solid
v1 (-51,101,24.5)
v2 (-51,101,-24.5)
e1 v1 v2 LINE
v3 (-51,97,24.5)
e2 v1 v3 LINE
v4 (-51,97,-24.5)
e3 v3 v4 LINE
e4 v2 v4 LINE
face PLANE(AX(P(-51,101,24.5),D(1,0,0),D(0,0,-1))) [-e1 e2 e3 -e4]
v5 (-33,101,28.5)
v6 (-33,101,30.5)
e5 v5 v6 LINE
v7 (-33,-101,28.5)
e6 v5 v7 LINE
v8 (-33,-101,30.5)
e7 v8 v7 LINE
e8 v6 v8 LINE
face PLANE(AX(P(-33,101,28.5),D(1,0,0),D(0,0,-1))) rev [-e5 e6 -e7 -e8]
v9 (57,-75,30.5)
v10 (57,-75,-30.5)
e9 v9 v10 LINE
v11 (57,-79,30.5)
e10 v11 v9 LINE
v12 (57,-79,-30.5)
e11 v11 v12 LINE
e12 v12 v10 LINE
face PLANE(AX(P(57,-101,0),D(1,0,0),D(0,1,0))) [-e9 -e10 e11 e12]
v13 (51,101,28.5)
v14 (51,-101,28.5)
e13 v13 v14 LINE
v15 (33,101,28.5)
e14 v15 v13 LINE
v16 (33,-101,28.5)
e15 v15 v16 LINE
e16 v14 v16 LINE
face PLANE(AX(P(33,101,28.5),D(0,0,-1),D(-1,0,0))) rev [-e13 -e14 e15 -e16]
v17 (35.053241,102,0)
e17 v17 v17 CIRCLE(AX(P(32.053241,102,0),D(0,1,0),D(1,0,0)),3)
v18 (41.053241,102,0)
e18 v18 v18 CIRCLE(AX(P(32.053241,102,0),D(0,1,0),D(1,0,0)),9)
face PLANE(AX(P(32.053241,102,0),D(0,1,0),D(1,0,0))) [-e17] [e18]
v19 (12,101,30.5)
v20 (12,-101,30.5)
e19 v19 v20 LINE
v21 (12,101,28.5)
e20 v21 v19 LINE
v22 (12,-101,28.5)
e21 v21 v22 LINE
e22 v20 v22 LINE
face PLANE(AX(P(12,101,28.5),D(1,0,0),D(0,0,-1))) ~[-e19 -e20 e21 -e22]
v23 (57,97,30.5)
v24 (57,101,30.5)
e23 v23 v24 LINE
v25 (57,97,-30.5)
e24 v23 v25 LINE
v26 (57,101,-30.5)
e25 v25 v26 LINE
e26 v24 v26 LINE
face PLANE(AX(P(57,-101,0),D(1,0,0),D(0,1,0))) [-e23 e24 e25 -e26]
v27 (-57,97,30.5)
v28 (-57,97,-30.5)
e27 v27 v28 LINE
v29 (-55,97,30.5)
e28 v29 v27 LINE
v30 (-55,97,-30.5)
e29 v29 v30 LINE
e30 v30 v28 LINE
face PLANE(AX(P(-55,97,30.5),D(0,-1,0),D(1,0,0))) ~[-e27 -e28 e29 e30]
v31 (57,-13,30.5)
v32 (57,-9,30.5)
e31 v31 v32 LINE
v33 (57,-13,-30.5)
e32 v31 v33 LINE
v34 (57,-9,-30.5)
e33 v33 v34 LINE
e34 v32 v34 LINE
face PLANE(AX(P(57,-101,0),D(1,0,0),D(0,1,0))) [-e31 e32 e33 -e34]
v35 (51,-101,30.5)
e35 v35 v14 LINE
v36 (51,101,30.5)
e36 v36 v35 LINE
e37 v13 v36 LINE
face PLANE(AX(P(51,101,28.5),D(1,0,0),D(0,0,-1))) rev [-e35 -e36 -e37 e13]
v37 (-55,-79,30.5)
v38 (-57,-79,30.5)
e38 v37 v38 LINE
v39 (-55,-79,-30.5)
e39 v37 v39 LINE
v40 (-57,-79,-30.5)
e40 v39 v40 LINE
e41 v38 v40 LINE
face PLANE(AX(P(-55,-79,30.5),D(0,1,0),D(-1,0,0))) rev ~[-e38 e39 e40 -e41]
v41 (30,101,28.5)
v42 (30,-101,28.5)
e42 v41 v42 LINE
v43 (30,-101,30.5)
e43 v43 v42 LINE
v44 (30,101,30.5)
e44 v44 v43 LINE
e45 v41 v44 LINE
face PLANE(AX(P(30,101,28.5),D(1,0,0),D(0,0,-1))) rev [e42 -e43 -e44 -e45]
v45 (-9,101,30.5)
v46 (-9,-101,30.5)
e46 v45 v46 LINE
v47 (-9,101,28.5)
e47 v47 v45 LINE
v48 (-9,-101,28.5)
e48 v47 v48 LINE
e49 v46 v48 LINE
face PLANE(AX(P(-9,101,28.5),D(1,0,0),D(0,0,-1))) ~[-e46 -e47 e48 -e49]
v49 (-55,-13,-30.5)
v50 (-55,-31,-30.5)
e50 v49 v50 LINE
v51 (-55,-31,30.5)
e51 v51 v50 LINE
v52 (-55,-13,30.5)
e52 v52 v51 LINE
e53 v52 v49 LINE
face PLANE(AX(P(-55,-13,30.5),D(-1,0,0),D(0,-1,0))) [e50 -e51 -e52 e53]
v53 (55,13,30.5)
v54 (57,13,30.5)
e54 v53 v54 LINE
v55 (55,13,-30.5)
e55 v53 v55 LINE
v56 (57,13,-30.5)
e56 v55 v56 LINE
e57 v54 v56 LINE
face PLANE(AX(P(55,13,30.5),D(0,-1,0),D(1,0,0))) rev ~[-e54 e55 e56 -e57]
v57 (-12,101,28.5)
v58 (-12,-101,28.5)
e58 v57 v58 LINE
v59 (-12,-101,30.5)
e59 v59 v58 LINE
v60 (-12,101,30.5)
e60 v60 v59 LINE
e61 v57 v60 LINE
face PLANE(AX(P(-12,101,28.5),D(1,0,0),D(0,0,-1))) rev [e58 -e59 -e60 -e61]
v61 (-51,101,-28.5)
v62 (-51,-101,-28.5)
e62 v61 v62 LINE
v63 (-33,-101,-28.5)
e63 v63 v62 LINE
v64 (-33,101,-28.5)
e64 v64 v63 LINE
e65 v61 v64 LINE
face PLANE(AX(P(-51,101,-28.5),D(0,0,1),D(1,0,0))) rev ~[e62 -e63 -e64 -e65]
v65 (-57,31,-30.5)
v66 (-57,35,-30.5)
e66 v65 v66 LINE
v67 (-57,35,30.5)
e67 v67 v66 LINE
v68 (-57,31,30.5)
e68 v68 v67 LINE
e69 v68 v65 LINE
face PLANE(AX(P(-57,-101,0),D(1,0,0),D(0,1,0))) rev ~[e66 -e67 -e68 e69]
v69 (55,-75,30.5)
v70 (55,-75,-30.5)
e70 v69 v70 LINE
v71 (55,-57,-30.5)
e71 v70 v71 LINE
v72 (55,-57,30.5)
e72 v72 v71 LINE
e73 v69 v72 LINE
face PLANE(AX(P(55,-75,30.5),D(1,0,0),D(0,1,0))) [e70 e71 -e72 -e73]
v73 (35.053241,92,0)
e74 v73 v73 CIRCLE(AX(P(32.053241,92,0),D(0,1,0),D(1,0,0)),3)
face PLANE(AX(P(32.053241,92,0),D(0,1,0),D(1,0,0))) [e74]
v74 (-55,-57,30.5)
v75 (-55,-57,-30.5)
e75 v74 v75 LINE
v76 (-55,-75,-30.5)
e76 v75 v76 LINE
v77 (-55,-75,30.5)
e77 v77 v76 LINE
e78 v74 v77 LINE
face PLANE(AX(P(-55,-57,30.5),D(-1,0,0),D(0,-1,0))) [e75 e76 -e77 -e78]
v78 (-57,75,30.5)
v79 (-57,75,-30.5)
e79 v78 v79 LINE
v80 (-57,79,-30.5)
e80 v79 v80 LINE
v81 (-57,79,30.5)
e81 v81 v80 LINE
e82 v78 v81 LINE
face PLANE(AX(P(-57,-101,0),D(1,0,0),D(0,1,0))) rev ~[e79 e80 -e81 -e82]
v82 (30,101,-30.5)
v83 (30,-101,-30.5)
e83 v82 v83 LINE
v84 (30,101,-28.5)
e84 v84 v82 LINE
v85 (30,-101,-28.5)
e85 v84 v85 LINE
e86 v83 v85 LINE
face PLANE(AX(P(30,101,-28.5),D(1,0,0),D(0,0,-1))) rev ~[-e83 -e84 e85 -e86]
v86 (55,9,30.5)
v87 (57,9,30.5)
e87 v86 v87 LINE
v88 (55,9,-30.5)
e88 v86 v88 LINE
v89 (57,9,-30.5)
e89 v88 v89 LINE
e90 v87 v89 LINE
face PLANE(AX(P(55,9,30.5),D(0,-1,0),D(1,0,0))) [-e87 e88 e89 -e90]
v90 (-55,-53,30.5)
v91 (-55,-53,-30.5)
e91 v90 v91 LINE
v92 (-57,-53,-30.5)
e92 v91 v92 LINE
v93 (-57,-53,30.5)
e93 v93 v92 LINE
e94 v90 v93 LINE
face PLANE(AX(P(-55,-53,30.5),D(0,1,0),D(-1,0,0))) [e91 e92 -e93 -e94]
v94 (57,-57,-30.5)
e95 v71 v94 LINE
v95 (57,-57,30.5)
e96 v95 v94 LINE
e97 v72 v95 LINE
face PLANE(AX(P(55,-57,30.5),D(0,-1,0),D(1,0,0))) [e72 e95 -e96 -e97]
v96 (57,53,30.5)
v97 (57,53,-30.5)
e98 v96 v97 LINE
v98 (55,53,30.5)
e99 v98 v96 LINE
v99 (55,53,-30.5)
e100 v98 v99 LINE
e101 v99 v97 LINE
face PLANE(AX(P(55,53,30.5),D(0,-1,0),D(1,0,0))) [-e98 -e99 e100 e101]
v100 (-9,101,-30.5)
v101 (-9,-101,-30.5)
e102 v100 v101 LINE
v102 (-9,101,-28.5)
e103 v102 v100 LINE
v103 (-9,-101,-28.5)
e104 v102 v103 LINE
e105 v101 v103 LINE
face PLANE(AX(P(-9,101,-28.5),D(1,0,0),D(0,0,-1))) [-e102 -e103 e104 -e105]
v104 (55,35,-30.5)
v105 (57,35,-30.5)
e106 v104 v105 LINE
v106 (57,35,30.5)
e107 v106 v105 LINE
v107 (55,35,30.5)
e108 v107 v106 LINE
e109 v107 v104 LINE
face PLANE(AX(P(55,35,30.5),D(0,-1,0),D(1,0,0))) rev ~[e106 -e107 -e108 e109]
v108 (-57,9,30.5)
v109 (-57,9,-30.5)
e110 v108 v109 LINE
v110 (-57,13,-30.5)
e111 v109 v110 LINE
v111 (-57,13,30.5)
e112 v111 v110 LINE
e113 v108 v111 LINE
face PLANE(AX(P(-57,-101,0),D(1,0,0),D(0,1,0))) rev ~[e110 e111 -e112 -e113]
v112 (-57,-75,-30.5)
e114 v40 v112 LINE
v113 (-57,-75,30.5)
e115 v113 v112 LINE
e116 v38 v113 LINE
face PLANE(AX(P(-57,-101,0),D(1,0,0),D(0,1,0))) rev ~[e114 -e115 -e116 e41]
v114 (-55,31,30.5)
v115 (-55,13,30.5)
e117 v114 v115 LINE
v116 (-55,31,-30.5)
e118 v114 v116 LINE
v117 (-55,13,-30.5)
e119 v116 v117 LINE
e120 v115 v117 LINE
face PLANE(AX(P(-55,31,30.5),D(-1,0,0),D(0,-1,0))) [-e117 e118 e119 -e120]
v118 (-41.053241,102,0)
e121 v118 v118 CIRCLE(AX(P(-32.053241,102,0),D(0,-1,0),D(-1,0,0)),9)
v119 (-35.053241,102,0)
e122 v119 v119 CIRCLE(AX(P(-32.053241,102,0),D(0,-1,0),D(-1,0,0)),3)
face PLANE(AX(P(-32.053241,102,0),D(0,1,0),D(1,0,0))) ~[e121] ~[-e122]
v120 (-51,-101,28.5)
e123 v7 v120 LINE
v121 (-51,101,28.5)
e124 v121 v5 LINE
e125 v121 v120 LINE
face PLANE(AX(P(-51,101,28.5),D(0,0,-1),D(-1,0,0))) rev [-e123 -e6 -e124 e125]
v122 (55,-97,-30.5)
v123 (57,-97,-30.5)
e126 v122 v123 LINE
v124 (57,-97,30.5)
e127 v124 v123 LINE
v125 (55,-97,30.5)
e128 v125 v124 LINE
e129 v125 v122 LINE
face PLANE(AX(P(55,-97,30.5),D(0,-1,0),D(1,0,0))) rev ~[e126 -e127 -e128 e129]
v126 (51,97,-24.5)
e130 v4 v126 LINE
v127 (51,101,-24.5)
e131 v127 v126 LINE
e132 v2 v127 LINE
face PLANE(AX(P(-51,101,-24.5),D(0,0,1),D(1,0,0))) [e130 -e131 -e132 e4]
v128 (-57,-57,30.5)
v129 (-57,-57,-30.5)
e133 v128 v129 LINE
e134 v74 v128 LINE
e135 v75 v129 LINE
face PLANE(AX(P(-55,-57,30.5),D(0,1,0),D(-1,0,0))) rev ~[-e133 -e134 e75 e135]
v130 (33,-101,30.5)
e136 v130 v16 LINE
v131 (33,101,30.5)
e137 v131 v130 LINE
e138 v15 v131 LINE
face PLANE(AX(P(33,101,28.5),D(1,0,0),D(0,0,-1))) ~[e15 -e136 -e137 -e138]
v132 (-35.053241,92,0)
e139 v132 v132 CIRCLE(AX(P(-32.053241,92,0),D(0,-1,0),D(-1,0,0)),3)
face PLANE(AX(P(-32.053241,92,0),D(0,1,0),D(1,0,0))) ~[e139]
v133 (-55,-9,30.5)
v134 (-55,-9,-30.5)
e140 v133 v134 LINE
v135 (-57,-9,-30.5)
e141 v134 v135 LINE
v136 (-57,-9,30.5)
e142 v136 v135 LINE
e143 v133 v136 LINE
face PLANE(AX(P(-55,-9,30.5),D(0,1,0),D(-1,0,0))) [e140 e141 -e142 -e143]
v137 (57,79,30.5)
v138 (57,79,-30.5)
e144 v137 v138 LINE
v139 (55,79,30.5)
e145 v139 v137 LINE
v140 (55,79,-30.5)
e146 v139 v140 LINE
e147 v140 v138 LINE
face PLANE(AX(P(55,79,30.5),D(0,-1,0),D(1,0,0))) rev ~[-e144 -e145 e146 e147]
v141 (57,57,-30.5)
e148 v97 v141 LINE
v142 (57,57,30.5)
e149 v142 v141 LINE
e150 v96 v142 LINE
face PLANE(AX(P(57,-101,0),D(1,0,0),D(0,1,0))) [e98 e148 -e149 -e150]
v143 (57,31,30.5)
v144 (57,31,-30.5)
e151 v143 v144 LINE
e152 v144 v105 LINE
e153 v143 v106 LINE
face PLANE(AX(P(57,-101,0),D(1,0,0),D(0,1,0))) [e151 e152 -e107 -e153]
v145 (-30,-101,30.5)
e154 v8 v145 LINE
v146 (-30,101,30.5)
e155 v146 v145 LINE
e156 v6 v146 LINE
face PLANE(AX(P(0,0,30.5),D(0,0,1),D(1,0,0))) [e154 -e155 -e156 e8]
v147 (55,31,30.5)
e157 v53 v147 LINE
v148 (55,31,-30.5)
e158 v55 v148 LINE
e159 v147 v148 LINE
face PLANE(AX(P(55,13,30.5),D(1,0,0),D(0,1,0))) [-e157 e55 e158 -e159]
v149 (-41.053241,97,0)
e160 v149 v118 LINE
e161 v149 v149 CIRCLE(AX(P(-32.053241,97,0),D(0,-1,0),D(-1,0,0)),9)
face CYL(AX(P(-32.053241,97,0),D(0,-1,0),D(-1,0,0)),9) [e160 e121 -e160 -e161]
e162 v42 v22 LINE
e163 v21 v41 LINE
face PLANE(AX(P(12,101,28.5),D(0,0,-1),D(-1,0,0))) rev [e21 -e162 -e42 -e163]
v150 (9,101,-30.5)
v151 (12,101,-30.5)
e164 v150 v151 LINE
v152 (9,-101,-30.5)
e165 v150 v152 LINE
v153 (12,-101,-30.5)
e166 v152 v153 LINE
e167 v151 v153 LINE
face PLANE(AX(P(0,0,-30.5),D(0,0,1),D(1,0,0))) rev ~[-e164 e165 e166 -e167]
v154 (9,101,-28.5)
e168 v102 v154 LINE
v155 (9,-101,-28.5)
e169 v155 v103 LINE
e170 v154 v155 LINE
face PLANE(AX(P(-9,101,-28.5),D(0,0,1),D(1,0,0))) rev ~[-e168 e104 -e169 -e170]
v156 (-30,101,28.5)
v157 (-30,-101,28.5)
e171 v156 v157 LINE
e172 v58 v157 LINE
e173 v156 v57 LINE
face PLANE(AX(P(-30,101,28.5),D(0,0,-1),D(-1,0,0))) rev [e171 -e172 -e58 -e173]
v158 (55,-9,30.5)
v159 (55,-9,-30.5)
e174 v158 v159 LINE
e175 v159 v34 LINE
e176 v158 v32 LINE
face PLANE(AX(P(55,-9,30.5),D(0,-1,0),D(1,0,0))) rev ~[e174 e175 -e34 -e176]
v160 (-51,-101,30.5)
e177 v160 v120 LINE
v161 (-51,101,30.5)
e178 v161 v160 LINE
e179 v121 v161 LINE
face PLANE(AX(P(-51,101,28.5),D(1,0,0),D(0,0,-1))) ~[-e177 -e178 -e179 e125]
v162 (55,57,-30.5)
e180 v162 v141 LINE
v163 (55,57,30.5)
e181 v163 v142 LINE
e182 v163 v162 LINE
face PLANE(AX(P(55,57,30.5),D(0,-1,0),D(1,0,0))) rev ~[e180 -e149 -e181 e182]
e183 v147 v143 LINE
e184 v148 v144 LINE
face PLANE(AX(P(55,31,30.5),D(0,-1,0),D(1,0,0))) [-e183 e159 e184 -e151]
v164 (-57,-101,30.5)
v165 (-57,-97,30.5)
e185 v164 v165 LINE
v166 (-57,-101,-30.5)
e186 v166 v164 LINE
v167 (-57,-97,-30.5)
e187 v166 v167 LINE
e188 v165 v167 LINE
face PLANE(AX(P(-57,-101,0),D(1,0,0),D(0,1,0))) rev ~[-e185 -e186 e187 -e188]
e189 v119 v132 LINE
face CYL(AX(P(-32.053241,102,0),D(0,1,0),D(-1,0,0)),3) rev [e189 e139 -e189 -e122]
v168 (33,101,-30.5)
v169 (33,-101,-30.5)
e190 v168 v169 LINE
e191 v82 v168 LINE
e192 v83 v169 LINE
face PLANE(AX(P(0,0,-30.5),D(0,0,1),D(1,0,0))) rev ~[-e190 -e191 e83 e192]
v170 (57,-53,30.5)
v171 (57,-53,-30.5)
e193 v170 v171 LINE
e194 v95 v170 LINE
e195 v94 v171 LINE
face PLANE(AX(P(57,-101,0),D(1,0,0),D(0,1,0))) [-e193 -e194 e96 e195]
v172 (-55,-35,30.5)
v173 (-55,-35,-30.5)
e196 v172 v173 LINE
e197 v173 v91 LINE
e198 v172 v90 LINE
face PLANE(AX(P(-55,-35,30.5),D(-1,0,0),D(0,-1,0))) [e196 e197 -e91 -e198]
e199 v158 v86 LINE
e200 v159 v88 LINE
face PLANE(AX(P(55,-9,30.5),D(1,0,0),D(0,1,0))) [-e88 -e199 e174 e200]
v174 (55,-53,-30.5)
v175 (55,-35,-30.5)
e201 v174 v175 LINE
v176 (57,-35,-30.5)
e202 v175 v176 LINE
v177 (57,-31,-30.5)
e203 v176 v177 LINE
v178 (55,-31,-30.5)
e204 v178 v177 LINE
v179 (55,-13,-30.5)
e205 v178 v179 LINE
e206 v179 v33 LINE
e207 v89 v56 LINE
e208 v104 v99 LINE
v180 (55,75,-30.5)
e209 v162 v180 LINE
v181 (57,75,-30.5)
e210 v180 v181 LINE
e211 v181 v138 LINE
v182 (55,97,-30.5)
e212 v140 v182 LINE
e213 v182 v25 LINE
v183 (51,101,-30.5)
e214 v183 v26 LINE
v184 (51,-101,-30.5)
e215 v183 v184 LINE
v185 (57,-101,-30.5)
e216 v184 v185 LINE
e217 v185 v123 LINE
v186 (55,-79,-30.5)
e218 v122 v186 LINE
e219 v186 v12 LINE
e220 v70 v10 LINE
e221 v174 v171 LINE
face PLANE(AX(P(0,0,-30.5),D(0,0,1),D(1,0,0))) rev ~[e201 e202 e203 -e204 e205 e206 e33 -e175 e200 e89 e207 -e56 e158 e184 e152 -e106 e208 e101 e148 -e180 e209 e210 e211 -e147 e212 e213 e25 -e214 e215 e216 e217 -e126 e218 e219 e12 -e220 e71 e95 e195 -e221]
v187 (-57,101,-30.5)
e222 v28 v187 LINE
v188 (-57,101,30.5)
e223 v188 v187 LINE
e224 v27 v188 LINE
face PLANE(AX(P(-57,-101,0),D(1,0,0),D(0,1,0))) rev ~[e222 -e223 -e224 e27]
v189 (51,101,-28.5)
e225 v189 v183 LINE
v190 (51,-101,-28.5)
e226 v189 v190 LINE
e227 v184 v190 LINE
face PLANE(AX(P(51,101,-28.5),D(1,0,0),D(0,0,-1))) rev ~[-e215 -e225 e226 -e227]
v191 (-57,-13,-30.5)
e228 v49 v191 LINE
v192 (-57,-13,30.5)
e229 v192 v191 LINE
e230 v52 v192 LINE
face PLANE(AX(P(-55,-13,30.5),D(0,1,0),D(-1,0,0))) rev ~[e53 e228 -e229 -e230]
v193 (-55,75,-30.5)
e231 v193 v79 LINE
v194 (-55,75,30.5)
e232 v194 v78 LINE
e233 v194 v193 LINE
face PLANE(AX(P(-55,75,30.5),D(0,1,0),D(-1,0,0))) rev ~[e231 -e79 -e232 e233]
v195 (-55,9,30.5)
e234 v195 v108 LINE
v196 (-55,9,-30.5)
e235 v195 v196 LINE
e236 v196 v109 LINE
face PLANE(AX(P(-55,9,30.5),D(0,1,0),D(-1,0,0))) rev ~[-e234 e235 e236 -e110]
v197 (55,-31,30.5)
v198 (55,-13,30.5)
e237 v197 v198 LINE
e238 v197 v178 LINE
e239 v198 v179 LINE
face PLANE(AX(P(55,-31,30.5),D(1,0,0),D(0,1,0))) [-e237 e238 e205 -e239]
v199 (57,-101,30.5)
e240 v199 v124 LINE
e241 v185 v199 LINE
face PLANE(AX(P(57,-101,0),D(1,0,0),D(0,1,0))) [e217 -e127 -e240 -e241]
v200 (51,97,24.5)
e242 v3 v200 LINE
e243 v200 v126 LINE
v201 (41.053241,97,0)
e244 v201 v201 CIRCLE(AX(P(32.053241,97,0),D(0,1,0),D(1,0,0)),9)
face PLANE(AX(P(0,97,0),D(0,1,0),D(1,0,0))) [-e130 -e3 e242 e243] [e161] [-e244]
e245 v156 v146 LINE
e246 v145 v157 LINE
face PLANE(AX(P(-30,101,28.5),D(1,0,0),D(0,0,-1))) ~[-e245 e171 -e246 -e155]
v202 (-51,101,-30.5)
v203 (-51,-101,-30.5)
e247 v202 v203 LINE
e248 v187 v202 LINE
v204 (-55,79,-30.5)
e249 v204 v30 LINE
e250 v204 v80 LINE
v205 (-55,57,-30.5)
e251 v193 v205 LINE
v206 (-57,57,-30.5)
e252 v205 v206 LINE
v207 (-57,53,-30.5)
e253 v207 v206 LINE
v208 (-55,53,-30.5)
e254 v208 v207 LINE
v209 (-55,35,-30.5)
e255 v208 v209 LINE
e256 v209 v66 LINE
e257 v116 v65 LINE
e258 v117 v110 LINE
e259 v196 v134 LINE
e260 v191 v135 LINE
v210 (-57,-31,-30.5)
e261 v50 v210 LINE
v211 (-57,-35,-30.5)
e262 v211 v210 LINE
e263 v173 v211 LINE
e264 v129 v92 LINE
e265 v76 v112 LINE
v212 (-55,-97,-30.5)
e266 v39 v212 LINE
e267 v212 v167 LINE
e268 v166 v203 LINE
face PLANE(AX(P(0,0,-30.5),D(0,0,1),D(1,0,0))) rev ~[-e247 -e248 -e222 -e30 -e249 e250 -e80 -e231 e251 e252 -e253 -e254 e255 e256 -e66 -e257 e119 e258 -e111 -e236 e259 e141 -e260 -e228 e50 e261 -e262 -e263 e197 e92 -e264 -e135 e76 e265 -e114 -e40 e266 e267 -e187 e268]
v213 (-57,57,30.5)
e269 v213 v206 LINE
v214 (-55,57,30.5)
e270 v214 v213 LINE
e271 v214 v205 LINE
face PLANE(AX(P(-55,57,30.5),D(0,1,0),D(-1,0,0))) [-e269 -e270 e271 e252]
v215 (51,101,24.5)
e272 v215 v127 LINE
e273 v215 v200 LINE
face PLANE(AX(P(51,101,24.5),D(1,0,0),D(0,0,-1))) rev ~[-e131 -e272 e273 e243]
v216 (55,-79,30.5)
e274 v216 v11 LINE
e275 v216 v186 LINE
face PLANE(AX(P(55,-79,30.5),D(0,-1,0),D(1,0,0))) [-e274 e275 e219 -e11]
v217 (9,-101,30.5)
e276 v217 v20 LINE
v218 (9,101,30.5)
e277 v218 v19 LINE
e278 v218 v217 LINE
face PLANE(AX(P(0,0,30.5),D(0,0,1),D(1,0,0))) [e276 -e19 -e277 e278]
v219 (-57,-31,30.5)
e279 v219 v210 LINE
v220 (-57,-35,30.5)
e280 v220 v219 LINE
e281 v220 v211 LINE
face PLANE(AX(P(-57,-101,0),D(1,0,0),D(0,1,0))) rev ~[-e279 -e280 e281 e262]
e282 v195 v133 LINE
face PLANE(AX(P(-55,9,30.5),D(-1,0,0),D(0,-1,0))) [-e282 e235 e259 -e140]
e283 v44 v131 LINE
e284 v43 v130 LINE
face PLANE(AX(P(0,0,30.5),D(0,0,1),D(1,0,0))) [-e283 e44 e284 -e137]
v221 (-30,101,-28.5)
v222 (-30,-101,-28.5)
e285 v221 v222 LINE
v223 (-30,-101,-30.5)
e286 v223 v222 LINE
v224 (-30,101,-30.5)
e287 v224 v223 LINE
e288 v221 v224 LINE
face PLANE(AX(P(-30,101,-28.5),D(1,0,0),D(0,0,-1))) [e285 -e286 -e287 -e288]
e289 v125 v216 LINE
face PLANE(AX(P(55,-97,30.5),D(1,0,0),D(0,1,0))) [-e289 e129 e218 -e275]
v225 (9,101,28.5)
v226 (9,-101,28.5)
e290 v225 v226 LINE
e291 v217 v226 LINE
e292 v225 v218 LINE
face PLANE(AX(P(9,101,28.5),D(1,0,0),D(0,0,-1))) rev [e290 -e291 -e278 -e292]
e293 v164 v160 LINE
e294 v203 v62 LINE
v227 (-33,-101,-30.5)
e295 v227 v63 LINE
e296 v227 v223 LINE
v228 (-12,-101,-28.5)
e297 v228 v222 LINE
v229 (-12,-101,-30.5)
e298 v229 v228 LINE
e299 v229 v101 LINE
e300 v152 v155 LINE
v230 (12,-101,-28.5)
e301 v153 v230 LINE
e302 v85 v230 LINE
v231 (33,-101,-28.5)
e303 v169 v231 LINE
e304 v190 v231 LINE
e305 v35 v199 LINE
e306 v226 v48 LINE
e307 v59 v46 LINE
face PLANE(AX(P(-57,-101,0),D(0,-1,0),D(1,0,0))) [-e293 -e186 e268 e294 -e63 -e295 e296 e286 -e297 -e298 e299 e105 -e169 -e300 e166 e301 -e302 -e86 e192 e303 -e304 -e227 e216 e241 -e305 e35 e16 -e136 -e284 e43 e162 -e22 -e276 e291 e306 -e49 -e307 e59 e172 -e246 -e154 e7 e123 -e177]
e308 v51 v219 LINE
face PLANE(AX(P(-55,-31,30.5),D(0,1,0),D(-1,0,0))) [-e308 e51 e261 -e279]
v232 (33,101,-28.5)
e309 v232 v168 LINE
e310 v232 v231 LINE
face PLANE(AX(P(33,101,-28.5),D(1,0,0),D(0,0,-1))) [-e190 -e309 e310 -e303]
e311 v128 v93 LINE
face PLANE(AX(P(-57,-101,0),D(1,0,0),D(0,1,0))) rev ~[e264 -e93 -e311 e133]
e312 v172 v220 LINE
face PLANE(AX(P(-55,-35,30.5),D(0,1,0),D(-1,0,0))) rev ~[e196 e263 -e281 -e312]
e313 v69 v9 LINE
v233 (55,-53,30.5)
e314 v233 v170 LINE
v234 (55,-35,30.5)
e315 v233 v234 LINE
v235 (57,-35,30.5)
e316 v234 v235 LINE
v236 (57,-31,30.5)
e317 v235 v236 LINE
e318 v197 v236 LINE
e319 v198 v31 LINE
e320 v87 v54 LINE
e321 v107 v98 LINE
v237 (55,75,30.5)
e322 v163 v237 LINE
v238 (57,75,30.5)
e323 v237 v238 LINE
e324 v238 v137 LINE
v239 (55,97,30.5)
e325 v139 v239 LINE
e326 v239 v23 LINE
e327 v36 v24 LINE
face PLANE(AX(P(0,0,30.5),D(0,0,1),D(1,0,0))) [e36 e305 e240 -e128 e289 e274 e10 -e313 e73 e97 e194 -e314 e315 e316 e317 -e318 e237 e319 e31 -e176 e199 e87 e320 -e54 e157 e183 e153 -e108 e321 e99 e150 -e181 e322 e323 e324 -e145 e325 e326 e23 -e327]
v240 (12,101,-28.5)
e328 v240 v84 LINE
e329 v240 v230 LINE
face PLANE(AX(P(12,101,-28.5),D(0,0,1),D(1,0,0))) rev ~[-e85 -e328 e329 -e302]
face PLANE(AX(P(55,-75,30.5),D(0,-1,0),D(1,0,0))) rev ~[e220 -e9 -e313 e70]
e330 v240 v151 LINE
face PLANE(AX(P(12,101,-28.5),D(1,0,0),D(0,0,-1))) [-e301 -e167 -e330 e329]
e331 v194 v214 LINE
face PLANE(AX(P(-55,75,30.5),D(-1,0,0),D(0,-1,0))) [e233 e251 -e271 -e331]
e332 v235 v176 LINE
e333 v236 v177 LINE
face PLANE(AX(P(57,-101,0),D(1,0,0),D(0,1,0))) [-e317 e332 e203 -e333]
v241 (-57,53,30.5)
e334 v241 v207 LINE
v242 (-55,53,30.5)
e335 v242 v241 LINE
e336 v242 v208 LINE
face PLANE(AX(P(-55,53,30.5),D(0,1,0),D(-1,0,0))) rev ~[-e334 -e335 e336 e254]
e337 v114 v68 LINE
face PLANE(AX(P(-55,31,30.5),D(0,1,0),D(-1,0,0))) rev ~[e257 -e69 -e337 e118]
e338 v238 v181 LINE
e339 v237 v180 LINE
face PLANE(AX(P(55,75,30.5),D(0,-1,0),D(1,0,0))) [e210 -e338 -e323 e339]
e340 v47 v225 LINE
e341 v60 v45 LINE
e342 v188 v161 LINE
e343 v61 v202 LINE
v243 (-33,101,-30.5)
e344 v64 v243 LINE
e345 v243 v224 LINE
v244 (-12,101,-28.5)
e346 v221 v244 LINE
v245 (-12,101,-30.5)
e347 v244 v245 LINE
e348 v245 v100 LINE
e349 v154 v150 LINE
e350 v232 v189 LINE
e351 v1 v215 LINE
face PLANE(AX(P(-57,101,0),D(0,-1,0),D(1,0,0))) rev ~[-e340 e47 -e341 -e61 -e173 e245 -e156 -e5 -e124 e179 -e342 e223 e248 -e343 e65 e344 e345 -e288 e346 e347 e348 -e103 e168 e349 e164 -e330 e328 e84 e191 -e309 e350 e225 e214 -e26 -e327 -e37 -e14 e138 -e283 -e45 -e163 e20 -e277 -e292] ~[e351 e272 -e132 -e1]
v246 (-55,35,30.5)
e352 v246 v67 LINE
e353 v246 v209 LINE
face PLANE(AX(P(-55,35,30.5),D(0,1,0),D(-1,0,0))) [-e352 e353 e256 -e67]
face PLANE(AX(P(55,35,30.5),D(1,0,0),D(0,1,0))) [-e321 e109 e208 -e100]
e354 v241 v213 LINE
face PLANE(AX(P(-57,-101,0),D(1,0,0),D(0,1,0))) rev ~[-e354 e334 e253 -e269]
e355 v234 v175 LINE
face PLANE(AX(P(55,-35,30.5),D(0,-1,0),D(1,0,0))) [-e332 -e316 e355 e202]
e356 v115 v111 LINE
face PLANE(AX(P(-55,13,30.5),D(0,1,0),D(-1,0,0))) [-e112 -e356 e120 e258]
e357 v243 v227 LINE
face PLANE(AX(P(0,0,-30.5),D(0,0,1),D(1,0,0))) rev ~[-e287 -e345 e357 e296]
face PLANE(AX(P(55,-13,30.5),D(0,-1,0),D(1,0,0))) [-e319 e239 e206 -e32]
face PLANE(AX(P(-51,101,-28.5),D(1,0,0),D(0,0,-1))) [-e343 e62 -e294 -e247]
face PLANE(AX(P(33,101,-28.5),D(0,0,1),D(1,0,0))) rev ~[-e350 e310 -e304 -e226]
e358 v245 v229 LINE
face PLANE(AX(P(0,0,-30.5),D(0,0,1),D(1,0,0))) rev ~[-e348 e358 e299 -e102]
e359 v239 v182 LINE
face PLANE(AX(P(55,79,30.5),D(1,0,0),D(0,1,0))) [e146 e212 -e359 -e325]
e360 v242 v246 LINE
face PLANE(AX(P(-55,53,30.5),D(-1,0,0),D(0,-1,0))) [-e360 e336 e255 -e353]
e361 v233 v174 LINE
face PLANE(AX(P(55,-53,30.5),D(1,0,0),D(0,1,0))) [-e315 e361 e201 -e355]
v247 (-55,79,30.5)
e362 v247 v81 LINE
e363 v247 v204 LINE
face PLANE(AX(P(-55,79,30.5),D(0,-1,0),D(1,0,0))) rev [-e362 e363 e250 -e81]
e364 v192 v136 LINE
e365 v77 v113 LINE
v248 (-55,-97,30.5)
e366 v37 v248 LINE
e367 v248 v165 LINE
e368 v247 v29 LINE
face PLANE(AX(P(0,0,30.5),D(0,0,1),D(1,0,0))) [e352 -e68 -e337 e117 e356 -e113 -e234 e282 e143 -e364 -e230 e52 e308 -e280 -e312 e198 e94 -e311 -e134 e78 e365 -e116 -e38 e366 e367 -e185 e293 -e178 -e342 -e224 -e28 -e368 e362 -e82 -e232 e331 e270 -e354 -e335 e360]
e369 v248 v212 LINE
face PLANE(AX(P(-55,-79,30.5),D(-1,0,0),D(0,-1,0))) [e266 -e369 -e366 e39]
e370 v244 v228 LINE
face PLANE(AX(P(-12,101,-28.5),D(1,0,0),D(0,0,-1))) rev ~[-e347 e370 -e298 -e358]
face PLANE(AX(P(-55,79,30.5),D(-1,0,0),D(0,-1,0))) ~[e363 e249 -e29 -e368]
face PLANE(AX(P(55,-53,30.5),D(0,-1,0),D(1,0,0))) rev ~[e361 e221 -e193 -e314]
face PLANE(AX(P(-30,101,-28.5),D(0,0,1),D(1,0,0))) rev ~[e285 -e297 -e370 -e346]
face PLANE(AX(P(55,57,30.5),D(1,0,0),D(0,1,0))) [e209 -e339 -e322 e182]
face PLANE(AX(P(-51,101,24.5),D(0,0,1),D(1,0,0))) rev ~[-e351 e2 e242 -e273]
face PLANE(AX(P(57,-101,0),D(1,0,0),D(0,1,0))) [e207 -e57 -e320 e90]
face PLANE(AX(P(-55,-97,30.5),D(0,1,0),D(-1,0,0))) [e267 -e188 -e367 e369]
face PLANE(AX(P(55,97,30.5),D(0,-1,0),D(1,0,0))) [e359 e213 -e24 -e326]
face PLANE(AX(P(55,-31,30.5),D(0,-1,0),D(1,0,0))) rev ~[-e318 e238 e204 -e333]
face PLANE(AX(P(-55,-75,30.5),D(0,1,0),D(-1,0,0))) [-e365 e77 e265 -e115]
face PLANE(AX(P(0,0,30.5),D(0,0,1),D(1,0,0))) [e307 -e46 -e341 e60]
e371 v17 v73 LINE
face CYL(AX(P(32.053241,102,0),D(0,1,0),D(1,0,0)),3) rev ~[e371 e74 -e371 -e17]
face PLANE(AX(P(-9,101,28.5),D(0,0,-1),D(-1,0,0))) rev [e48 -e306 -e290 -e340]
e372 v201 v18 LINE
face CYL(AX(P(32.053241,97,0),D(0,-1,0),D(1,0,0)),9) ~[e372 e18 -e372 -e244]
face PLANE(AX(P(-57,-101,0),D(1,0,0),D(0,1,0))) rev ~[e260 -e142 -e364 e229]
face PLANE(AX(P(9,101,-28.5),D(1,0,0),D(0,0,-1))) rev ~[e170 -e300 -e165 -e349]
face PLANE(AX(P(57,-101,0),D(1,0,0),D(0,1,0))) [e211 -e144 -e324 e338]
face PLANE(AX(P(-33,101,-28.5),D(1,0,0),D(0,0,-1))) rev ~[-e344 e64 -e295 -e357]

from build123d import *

# Parameters (mm, degrees)
CROQUIS1_W                = 114
CROQUIS1_H                = 202
SALIENTE_EXTRUIR1_DEPTH   = 30.5
CROQUIS2_W                = 2
CROQUIS2_H                = 18
CORTAR_EXTRUIR1_DEPTH     = 62
MATRIZL1_COUNT            = 9
MATRIZL1_PITCH            = 22
SIMETR_A1_COPY_1_SKETCH_W = 2
SIMETR_A1_COPY_1_SKETCH_H = 18
SIMETR_A1_COPY_1_DEPTH    = 62
SIMETR_A1_COPY_2_SKETCH_W = 2
SIMETR_A1_COPY_2_SKETCH_H = 18
SIMETR_A1_COPY_2_DEPTH    = 62
SIMETR_A1_COPY_3_SKETCH_W = 2
SIMETR_A1_COPY_3_SKETCH_H = 18
SIMETR_A1_COPY_3_DEPTH    = 62
SIMETR_A1_COPY_4_SKETCH_W = 2
SIMETR_A1_COPY_4_SKETCH_H = 18
SIMETR_A1_COPY_4_DEPTH    = 62
SIMETR_A1_COPY_5_SKETCH_W = 2
SIMETR_A1_COPY_5_SKETCH_H = 18
SIMETR_A1_COPY_5_DEPTH    = 62
SIMETR_A1_COPY_6_SKETCH_W = 2
SIMETR_A1_COPY_6_SKETCH_H = 18
SIMETR_A1_COPY_6_DEPTH    = 62
SIMETR_A1_COPY_7_SKETCH_W = 2
SIMETR_A1_COPY_7_SKETCH_H = 18
SIMETR_A1_COPY_7_DEPTH    = 62
SIMETR_A1_COPY_8_SKETCH_W = 2
SIMETR_A1_COPY_8_SKETCH_H = 18
SIMETR_A1_COPY_8_DEPTH    = 62
CROQUIS3_W                = 18
CROQUIS3_H                = 2
CORTAR_EXTRUIR2_DEPTH     = 203
CROQUIS4_W                = 102
CROQUIS4_H                = 49
CORTAR_EXTRUIR3_DEPTH     = 4
CROQUIS5_R                = 9
SALIENTE_EXTRUIR2_DEPTH   = 5
CROQUIS6_R                = 3
CORTAR_EXTRUIR4_DEPTH     = 10


with BuildPart() as part:
    # Croquis1 → Saliente-Extruir1 (new body, symmetric)
    with BuildSketch(Plane.XY):
        Rectangle(CROQUIS1_W, CROQUIS1_H)
    extrude(amount=SALIENTE_EXTRUIR1_DEPTH, both=True)

    # Croquis2 → Cortar-Extruir1 (cut, through all)
    with BuildSketch(Plane.XY.offset(30.5)):
        with Locations((56, 88)):
            Rectangle(CROQUIS2_W, CROQUIS2_H)
    cortar_extruir1 = extrude(amount=-CORTAR_EXTRUIR1_DEPTH, mode=Mode.SUBTRACT)

    # MatrizL1: Cortar-Extruir1 ×9
    with Locations(*[(0, -i * MATRIZL1_PITCH, 0) for i in range(1, MATRIZL1_COUNT)]):
        add(cortar_extruir1, mode=Mode.SUBTRACT)

    # Simetría1: Cortar-Extruir1 across plane
    add(cortar_extruir1.mirror(Plane(origin=(0, 0, 0), x_dir=(0, 0, 1), z_dir=(1, 0, 0))), mode=Mode.SUBTRACT)

    # Simetría1 copy 1 sketch → Simetría1 copy 1 (cut, through all)
    with BuildSketch(Plane(origin=(0, -22, 30.5), x_dir=(-1, 0, 0), z_dir=(0, 0, 1))):
        with Locations((56, -88)):
            Rectangle(SIMETR_A1_COPY_1_SKETCH_W, SIMETR_A1_COPY_1_SKETCH_H)
    extrude(amount=-SIMETR_A1_COPY_1_DEPTH, mode=Mode.SUBTRACT)

    # Simetría1 copy 2 sketch → Simetría1 copy 2 (cut, through all)
    with BuildSketch(Plane(origin=(0, -44, 30.5), x_dir=(-1, 0, 0), z_dir=(0, 0, 1))):
        with Locations((56, -88)):
            Rectangle(SIMETR_A1_COPY_2_SKETCH_W, SIMETR_A1_COPY_2_SKETCH_H)
    extrude(amount=-SIMETR_A1_COPY_2_DEPTH, mode=Mode.SUBTRACT)

    # Simetría1 copy 3 sketch → Simetría1 copy 3 (cut, through all)
    with BuildSketch(Plane(origin=(0, -66, 30.5), x_dir=(-1, 0, 0), z_dir=(0, 0, 1))):
        with Locations((56, -88)):
            Rectangle(SIMETR_A1_COPY_3_SKETCH_W, SIMETR_A1_COPY_3_SKETCH_H)
    extrude(amount=-SIMETR_A1_COPY_3_DEPTH, mode=Mode.SUBTRACT)

    # Simetría1 copy 4 sketch → Simetría1 copy 4 (cut, through all)
    with BuildSketch(Plane(origin=(0, -88, 30.5), x_dir=(-1, 0, 0), z_dir=(0, 0, 1))):
        with Locations((56, -88)):
            Rectangle(SIMETR_A1_COPY_4_SKETCH_W, SIMETR_A1_COPY_4_SKETCH_H)
    extrude(amount=-SIMETR_A1_COPY_4_DEPTH, mode=Mode.SUBTRACT)

    # Simetría1 copy 5 sketch → Simetría1 copy 5 (cut, through all)
    with BuildSketch(Plane(origin=(0, -110, 30.5), x_dir=(-1, 0, 0), z_dir=(0, 0, 1))):
        with Locations((56, -88)):
            Rectangle(SIMETR_A1_COPY_5_SKETCH_W, SIMETR_A1_COPY_5_SKETCH_H)
    extrude(amount=-SIMETR_A1_COPY_5_DEPTH, mode=Mode.SUBTRACT)

    # Simetría1 copy 6 sketch → Simetría1 copy 6 (cut, through all)
    with BuildSketch(Plane(origin=(0, -132, 30.5), x_dir=(-1, 0, 0), z_dir=(0, 0, 1))):
        with Locations((56, -88)):
            Rectangle(SIMETR_A1_COPY_6_SKETCH_W, SIMETR_A1_COPY_6_SKETCH_H)
    extrude(amount=-SIMETR_A1_COPY_6_DEPTH, mode=Mode.SUBTRACT)

    # Simetría1 copy 7 sketch → Simetría1 copy 7 (cut, through all)
    with BuildSketch(Plane(origin=(0, -154, 30.5), x_dir=(-1, 0, 0), z_dir=(0, 0, 1))):
        with Locations((56, -88)):
            Rectangle(SIMETR_A1_COPY_7_SKETCH_W, SIMETR_A1_COPY_7_SKETCH_H)
    extrude(amount=-SIMETR_A1_COPY_7_DEPTH, mode=Mode.SUBTRACT)

    # Simetría1 copy 8 sketch → Simetría1 copy 8 (cut, through all)
    with BuildSketch(Plane(origin=(0, -176, 30.5), x_dir=(-1, 0, 0), z_dir=(0, 0, 1))):
        with Locations((56, -88)):
            Rectangle(SIMETR_A1_COPY_8_SKETCH_W, SIMETR_A1_COPY_8_SKETCH_H)
    extrude(amount=-SIMETR_A1_COPY_8_DEPTH, mode=Mode.SUBTRACT)

    # Croquis3 → Cortar-Extruir2 (cut, through all)
    with BuildSketch(Plane(origin=(0, 101, 0), x_dir=(1, 0, 0), z_dir=(0, 1, 0))):
        with Locations((0, 29.5)):
            Rectangle(CROQUIS3_W, CROQUIS3_H)
        with Locations((21, 29.5)):
            Rectangle(CROQUIS3_W, CROQUIS3_H)
        with Locations((42, 29.5)):
            Rectangle(CROQUIS3_W, CROQUIS3_H)
        with Locations((-42, 29.5)):
            Rectangle(CROQUIS3_W, CROQUIS3_H)
        with Locations((-21, 29.5)):
            Rectangle(CROQUIS3_W, CROQUIS3_H)
    cortar_extruir2 = extrude(amount=-CORTAR_EXTRUIR2_DEPTH, mode=Mode.SUBTRACT)

    # Simetría2: Cortar-Extruir2 across plane
    add(cortar_extruir2.mirror(Plane.XY), mode=Mode.SUBTRACT)

    # Croquis4 → Cortar-Extruir3 (cut)
    with BuildSketch(Plane(origin=(0, 101, 0), x_dir=(1, 0, 0), z_dir=(0, 1, 0))):
        Rectangle(CROQUIS4_W, CROQUIS4_H)
    extrude(amount=-CORTAR_EXTRUIR3_DEPTH, mode=Mode.SUBTRACT)

    # Croquis5 → Saliente-Extruir2 (add)
    with BuildSketch(Plane(origin=(0, 97, 0), x_dir=(1, 0, 0), z_dir=(0, 1, 0))):
        with Locations((32.053240518, 0)):
            Circle(CROQUIS5_R)
    saliente_extruir2 = extrude(amount=SALIENTE_EXTRUIR2_DEPTH)

    # Croquis6 → Cortar-Extruir4 (cut)
    with BuildSketch(Plane(origin=(0, 102, 0), x_dir=(1, 0, 0), z_dir=(0, 1, 0))):
        with Locations((32.053240518, 0)):
            Circle(CROQUIS6_R)
    cortar_extruir4 = extrude(amount=-CORTAR_EXTRUIR4_DEPTH, mode=Mode.SUBTRACT)

    # Simetría4: Saliente-Extruir2, Cortar-Extruir4 across plane
    add(saliente_extruir2.mirror(Plane(origin=(0, 0, 0), x_dir=(0, 0, 1), z_dir=(1, 0, 0))))
    add(cortar_extruir4.mirror(Plane(origin=(0, 0, 0), x_dir=(0, 0, 1), z_dir=(1, 0, 0))), mode=Mode.SUBTRACT)


solid = part.part
